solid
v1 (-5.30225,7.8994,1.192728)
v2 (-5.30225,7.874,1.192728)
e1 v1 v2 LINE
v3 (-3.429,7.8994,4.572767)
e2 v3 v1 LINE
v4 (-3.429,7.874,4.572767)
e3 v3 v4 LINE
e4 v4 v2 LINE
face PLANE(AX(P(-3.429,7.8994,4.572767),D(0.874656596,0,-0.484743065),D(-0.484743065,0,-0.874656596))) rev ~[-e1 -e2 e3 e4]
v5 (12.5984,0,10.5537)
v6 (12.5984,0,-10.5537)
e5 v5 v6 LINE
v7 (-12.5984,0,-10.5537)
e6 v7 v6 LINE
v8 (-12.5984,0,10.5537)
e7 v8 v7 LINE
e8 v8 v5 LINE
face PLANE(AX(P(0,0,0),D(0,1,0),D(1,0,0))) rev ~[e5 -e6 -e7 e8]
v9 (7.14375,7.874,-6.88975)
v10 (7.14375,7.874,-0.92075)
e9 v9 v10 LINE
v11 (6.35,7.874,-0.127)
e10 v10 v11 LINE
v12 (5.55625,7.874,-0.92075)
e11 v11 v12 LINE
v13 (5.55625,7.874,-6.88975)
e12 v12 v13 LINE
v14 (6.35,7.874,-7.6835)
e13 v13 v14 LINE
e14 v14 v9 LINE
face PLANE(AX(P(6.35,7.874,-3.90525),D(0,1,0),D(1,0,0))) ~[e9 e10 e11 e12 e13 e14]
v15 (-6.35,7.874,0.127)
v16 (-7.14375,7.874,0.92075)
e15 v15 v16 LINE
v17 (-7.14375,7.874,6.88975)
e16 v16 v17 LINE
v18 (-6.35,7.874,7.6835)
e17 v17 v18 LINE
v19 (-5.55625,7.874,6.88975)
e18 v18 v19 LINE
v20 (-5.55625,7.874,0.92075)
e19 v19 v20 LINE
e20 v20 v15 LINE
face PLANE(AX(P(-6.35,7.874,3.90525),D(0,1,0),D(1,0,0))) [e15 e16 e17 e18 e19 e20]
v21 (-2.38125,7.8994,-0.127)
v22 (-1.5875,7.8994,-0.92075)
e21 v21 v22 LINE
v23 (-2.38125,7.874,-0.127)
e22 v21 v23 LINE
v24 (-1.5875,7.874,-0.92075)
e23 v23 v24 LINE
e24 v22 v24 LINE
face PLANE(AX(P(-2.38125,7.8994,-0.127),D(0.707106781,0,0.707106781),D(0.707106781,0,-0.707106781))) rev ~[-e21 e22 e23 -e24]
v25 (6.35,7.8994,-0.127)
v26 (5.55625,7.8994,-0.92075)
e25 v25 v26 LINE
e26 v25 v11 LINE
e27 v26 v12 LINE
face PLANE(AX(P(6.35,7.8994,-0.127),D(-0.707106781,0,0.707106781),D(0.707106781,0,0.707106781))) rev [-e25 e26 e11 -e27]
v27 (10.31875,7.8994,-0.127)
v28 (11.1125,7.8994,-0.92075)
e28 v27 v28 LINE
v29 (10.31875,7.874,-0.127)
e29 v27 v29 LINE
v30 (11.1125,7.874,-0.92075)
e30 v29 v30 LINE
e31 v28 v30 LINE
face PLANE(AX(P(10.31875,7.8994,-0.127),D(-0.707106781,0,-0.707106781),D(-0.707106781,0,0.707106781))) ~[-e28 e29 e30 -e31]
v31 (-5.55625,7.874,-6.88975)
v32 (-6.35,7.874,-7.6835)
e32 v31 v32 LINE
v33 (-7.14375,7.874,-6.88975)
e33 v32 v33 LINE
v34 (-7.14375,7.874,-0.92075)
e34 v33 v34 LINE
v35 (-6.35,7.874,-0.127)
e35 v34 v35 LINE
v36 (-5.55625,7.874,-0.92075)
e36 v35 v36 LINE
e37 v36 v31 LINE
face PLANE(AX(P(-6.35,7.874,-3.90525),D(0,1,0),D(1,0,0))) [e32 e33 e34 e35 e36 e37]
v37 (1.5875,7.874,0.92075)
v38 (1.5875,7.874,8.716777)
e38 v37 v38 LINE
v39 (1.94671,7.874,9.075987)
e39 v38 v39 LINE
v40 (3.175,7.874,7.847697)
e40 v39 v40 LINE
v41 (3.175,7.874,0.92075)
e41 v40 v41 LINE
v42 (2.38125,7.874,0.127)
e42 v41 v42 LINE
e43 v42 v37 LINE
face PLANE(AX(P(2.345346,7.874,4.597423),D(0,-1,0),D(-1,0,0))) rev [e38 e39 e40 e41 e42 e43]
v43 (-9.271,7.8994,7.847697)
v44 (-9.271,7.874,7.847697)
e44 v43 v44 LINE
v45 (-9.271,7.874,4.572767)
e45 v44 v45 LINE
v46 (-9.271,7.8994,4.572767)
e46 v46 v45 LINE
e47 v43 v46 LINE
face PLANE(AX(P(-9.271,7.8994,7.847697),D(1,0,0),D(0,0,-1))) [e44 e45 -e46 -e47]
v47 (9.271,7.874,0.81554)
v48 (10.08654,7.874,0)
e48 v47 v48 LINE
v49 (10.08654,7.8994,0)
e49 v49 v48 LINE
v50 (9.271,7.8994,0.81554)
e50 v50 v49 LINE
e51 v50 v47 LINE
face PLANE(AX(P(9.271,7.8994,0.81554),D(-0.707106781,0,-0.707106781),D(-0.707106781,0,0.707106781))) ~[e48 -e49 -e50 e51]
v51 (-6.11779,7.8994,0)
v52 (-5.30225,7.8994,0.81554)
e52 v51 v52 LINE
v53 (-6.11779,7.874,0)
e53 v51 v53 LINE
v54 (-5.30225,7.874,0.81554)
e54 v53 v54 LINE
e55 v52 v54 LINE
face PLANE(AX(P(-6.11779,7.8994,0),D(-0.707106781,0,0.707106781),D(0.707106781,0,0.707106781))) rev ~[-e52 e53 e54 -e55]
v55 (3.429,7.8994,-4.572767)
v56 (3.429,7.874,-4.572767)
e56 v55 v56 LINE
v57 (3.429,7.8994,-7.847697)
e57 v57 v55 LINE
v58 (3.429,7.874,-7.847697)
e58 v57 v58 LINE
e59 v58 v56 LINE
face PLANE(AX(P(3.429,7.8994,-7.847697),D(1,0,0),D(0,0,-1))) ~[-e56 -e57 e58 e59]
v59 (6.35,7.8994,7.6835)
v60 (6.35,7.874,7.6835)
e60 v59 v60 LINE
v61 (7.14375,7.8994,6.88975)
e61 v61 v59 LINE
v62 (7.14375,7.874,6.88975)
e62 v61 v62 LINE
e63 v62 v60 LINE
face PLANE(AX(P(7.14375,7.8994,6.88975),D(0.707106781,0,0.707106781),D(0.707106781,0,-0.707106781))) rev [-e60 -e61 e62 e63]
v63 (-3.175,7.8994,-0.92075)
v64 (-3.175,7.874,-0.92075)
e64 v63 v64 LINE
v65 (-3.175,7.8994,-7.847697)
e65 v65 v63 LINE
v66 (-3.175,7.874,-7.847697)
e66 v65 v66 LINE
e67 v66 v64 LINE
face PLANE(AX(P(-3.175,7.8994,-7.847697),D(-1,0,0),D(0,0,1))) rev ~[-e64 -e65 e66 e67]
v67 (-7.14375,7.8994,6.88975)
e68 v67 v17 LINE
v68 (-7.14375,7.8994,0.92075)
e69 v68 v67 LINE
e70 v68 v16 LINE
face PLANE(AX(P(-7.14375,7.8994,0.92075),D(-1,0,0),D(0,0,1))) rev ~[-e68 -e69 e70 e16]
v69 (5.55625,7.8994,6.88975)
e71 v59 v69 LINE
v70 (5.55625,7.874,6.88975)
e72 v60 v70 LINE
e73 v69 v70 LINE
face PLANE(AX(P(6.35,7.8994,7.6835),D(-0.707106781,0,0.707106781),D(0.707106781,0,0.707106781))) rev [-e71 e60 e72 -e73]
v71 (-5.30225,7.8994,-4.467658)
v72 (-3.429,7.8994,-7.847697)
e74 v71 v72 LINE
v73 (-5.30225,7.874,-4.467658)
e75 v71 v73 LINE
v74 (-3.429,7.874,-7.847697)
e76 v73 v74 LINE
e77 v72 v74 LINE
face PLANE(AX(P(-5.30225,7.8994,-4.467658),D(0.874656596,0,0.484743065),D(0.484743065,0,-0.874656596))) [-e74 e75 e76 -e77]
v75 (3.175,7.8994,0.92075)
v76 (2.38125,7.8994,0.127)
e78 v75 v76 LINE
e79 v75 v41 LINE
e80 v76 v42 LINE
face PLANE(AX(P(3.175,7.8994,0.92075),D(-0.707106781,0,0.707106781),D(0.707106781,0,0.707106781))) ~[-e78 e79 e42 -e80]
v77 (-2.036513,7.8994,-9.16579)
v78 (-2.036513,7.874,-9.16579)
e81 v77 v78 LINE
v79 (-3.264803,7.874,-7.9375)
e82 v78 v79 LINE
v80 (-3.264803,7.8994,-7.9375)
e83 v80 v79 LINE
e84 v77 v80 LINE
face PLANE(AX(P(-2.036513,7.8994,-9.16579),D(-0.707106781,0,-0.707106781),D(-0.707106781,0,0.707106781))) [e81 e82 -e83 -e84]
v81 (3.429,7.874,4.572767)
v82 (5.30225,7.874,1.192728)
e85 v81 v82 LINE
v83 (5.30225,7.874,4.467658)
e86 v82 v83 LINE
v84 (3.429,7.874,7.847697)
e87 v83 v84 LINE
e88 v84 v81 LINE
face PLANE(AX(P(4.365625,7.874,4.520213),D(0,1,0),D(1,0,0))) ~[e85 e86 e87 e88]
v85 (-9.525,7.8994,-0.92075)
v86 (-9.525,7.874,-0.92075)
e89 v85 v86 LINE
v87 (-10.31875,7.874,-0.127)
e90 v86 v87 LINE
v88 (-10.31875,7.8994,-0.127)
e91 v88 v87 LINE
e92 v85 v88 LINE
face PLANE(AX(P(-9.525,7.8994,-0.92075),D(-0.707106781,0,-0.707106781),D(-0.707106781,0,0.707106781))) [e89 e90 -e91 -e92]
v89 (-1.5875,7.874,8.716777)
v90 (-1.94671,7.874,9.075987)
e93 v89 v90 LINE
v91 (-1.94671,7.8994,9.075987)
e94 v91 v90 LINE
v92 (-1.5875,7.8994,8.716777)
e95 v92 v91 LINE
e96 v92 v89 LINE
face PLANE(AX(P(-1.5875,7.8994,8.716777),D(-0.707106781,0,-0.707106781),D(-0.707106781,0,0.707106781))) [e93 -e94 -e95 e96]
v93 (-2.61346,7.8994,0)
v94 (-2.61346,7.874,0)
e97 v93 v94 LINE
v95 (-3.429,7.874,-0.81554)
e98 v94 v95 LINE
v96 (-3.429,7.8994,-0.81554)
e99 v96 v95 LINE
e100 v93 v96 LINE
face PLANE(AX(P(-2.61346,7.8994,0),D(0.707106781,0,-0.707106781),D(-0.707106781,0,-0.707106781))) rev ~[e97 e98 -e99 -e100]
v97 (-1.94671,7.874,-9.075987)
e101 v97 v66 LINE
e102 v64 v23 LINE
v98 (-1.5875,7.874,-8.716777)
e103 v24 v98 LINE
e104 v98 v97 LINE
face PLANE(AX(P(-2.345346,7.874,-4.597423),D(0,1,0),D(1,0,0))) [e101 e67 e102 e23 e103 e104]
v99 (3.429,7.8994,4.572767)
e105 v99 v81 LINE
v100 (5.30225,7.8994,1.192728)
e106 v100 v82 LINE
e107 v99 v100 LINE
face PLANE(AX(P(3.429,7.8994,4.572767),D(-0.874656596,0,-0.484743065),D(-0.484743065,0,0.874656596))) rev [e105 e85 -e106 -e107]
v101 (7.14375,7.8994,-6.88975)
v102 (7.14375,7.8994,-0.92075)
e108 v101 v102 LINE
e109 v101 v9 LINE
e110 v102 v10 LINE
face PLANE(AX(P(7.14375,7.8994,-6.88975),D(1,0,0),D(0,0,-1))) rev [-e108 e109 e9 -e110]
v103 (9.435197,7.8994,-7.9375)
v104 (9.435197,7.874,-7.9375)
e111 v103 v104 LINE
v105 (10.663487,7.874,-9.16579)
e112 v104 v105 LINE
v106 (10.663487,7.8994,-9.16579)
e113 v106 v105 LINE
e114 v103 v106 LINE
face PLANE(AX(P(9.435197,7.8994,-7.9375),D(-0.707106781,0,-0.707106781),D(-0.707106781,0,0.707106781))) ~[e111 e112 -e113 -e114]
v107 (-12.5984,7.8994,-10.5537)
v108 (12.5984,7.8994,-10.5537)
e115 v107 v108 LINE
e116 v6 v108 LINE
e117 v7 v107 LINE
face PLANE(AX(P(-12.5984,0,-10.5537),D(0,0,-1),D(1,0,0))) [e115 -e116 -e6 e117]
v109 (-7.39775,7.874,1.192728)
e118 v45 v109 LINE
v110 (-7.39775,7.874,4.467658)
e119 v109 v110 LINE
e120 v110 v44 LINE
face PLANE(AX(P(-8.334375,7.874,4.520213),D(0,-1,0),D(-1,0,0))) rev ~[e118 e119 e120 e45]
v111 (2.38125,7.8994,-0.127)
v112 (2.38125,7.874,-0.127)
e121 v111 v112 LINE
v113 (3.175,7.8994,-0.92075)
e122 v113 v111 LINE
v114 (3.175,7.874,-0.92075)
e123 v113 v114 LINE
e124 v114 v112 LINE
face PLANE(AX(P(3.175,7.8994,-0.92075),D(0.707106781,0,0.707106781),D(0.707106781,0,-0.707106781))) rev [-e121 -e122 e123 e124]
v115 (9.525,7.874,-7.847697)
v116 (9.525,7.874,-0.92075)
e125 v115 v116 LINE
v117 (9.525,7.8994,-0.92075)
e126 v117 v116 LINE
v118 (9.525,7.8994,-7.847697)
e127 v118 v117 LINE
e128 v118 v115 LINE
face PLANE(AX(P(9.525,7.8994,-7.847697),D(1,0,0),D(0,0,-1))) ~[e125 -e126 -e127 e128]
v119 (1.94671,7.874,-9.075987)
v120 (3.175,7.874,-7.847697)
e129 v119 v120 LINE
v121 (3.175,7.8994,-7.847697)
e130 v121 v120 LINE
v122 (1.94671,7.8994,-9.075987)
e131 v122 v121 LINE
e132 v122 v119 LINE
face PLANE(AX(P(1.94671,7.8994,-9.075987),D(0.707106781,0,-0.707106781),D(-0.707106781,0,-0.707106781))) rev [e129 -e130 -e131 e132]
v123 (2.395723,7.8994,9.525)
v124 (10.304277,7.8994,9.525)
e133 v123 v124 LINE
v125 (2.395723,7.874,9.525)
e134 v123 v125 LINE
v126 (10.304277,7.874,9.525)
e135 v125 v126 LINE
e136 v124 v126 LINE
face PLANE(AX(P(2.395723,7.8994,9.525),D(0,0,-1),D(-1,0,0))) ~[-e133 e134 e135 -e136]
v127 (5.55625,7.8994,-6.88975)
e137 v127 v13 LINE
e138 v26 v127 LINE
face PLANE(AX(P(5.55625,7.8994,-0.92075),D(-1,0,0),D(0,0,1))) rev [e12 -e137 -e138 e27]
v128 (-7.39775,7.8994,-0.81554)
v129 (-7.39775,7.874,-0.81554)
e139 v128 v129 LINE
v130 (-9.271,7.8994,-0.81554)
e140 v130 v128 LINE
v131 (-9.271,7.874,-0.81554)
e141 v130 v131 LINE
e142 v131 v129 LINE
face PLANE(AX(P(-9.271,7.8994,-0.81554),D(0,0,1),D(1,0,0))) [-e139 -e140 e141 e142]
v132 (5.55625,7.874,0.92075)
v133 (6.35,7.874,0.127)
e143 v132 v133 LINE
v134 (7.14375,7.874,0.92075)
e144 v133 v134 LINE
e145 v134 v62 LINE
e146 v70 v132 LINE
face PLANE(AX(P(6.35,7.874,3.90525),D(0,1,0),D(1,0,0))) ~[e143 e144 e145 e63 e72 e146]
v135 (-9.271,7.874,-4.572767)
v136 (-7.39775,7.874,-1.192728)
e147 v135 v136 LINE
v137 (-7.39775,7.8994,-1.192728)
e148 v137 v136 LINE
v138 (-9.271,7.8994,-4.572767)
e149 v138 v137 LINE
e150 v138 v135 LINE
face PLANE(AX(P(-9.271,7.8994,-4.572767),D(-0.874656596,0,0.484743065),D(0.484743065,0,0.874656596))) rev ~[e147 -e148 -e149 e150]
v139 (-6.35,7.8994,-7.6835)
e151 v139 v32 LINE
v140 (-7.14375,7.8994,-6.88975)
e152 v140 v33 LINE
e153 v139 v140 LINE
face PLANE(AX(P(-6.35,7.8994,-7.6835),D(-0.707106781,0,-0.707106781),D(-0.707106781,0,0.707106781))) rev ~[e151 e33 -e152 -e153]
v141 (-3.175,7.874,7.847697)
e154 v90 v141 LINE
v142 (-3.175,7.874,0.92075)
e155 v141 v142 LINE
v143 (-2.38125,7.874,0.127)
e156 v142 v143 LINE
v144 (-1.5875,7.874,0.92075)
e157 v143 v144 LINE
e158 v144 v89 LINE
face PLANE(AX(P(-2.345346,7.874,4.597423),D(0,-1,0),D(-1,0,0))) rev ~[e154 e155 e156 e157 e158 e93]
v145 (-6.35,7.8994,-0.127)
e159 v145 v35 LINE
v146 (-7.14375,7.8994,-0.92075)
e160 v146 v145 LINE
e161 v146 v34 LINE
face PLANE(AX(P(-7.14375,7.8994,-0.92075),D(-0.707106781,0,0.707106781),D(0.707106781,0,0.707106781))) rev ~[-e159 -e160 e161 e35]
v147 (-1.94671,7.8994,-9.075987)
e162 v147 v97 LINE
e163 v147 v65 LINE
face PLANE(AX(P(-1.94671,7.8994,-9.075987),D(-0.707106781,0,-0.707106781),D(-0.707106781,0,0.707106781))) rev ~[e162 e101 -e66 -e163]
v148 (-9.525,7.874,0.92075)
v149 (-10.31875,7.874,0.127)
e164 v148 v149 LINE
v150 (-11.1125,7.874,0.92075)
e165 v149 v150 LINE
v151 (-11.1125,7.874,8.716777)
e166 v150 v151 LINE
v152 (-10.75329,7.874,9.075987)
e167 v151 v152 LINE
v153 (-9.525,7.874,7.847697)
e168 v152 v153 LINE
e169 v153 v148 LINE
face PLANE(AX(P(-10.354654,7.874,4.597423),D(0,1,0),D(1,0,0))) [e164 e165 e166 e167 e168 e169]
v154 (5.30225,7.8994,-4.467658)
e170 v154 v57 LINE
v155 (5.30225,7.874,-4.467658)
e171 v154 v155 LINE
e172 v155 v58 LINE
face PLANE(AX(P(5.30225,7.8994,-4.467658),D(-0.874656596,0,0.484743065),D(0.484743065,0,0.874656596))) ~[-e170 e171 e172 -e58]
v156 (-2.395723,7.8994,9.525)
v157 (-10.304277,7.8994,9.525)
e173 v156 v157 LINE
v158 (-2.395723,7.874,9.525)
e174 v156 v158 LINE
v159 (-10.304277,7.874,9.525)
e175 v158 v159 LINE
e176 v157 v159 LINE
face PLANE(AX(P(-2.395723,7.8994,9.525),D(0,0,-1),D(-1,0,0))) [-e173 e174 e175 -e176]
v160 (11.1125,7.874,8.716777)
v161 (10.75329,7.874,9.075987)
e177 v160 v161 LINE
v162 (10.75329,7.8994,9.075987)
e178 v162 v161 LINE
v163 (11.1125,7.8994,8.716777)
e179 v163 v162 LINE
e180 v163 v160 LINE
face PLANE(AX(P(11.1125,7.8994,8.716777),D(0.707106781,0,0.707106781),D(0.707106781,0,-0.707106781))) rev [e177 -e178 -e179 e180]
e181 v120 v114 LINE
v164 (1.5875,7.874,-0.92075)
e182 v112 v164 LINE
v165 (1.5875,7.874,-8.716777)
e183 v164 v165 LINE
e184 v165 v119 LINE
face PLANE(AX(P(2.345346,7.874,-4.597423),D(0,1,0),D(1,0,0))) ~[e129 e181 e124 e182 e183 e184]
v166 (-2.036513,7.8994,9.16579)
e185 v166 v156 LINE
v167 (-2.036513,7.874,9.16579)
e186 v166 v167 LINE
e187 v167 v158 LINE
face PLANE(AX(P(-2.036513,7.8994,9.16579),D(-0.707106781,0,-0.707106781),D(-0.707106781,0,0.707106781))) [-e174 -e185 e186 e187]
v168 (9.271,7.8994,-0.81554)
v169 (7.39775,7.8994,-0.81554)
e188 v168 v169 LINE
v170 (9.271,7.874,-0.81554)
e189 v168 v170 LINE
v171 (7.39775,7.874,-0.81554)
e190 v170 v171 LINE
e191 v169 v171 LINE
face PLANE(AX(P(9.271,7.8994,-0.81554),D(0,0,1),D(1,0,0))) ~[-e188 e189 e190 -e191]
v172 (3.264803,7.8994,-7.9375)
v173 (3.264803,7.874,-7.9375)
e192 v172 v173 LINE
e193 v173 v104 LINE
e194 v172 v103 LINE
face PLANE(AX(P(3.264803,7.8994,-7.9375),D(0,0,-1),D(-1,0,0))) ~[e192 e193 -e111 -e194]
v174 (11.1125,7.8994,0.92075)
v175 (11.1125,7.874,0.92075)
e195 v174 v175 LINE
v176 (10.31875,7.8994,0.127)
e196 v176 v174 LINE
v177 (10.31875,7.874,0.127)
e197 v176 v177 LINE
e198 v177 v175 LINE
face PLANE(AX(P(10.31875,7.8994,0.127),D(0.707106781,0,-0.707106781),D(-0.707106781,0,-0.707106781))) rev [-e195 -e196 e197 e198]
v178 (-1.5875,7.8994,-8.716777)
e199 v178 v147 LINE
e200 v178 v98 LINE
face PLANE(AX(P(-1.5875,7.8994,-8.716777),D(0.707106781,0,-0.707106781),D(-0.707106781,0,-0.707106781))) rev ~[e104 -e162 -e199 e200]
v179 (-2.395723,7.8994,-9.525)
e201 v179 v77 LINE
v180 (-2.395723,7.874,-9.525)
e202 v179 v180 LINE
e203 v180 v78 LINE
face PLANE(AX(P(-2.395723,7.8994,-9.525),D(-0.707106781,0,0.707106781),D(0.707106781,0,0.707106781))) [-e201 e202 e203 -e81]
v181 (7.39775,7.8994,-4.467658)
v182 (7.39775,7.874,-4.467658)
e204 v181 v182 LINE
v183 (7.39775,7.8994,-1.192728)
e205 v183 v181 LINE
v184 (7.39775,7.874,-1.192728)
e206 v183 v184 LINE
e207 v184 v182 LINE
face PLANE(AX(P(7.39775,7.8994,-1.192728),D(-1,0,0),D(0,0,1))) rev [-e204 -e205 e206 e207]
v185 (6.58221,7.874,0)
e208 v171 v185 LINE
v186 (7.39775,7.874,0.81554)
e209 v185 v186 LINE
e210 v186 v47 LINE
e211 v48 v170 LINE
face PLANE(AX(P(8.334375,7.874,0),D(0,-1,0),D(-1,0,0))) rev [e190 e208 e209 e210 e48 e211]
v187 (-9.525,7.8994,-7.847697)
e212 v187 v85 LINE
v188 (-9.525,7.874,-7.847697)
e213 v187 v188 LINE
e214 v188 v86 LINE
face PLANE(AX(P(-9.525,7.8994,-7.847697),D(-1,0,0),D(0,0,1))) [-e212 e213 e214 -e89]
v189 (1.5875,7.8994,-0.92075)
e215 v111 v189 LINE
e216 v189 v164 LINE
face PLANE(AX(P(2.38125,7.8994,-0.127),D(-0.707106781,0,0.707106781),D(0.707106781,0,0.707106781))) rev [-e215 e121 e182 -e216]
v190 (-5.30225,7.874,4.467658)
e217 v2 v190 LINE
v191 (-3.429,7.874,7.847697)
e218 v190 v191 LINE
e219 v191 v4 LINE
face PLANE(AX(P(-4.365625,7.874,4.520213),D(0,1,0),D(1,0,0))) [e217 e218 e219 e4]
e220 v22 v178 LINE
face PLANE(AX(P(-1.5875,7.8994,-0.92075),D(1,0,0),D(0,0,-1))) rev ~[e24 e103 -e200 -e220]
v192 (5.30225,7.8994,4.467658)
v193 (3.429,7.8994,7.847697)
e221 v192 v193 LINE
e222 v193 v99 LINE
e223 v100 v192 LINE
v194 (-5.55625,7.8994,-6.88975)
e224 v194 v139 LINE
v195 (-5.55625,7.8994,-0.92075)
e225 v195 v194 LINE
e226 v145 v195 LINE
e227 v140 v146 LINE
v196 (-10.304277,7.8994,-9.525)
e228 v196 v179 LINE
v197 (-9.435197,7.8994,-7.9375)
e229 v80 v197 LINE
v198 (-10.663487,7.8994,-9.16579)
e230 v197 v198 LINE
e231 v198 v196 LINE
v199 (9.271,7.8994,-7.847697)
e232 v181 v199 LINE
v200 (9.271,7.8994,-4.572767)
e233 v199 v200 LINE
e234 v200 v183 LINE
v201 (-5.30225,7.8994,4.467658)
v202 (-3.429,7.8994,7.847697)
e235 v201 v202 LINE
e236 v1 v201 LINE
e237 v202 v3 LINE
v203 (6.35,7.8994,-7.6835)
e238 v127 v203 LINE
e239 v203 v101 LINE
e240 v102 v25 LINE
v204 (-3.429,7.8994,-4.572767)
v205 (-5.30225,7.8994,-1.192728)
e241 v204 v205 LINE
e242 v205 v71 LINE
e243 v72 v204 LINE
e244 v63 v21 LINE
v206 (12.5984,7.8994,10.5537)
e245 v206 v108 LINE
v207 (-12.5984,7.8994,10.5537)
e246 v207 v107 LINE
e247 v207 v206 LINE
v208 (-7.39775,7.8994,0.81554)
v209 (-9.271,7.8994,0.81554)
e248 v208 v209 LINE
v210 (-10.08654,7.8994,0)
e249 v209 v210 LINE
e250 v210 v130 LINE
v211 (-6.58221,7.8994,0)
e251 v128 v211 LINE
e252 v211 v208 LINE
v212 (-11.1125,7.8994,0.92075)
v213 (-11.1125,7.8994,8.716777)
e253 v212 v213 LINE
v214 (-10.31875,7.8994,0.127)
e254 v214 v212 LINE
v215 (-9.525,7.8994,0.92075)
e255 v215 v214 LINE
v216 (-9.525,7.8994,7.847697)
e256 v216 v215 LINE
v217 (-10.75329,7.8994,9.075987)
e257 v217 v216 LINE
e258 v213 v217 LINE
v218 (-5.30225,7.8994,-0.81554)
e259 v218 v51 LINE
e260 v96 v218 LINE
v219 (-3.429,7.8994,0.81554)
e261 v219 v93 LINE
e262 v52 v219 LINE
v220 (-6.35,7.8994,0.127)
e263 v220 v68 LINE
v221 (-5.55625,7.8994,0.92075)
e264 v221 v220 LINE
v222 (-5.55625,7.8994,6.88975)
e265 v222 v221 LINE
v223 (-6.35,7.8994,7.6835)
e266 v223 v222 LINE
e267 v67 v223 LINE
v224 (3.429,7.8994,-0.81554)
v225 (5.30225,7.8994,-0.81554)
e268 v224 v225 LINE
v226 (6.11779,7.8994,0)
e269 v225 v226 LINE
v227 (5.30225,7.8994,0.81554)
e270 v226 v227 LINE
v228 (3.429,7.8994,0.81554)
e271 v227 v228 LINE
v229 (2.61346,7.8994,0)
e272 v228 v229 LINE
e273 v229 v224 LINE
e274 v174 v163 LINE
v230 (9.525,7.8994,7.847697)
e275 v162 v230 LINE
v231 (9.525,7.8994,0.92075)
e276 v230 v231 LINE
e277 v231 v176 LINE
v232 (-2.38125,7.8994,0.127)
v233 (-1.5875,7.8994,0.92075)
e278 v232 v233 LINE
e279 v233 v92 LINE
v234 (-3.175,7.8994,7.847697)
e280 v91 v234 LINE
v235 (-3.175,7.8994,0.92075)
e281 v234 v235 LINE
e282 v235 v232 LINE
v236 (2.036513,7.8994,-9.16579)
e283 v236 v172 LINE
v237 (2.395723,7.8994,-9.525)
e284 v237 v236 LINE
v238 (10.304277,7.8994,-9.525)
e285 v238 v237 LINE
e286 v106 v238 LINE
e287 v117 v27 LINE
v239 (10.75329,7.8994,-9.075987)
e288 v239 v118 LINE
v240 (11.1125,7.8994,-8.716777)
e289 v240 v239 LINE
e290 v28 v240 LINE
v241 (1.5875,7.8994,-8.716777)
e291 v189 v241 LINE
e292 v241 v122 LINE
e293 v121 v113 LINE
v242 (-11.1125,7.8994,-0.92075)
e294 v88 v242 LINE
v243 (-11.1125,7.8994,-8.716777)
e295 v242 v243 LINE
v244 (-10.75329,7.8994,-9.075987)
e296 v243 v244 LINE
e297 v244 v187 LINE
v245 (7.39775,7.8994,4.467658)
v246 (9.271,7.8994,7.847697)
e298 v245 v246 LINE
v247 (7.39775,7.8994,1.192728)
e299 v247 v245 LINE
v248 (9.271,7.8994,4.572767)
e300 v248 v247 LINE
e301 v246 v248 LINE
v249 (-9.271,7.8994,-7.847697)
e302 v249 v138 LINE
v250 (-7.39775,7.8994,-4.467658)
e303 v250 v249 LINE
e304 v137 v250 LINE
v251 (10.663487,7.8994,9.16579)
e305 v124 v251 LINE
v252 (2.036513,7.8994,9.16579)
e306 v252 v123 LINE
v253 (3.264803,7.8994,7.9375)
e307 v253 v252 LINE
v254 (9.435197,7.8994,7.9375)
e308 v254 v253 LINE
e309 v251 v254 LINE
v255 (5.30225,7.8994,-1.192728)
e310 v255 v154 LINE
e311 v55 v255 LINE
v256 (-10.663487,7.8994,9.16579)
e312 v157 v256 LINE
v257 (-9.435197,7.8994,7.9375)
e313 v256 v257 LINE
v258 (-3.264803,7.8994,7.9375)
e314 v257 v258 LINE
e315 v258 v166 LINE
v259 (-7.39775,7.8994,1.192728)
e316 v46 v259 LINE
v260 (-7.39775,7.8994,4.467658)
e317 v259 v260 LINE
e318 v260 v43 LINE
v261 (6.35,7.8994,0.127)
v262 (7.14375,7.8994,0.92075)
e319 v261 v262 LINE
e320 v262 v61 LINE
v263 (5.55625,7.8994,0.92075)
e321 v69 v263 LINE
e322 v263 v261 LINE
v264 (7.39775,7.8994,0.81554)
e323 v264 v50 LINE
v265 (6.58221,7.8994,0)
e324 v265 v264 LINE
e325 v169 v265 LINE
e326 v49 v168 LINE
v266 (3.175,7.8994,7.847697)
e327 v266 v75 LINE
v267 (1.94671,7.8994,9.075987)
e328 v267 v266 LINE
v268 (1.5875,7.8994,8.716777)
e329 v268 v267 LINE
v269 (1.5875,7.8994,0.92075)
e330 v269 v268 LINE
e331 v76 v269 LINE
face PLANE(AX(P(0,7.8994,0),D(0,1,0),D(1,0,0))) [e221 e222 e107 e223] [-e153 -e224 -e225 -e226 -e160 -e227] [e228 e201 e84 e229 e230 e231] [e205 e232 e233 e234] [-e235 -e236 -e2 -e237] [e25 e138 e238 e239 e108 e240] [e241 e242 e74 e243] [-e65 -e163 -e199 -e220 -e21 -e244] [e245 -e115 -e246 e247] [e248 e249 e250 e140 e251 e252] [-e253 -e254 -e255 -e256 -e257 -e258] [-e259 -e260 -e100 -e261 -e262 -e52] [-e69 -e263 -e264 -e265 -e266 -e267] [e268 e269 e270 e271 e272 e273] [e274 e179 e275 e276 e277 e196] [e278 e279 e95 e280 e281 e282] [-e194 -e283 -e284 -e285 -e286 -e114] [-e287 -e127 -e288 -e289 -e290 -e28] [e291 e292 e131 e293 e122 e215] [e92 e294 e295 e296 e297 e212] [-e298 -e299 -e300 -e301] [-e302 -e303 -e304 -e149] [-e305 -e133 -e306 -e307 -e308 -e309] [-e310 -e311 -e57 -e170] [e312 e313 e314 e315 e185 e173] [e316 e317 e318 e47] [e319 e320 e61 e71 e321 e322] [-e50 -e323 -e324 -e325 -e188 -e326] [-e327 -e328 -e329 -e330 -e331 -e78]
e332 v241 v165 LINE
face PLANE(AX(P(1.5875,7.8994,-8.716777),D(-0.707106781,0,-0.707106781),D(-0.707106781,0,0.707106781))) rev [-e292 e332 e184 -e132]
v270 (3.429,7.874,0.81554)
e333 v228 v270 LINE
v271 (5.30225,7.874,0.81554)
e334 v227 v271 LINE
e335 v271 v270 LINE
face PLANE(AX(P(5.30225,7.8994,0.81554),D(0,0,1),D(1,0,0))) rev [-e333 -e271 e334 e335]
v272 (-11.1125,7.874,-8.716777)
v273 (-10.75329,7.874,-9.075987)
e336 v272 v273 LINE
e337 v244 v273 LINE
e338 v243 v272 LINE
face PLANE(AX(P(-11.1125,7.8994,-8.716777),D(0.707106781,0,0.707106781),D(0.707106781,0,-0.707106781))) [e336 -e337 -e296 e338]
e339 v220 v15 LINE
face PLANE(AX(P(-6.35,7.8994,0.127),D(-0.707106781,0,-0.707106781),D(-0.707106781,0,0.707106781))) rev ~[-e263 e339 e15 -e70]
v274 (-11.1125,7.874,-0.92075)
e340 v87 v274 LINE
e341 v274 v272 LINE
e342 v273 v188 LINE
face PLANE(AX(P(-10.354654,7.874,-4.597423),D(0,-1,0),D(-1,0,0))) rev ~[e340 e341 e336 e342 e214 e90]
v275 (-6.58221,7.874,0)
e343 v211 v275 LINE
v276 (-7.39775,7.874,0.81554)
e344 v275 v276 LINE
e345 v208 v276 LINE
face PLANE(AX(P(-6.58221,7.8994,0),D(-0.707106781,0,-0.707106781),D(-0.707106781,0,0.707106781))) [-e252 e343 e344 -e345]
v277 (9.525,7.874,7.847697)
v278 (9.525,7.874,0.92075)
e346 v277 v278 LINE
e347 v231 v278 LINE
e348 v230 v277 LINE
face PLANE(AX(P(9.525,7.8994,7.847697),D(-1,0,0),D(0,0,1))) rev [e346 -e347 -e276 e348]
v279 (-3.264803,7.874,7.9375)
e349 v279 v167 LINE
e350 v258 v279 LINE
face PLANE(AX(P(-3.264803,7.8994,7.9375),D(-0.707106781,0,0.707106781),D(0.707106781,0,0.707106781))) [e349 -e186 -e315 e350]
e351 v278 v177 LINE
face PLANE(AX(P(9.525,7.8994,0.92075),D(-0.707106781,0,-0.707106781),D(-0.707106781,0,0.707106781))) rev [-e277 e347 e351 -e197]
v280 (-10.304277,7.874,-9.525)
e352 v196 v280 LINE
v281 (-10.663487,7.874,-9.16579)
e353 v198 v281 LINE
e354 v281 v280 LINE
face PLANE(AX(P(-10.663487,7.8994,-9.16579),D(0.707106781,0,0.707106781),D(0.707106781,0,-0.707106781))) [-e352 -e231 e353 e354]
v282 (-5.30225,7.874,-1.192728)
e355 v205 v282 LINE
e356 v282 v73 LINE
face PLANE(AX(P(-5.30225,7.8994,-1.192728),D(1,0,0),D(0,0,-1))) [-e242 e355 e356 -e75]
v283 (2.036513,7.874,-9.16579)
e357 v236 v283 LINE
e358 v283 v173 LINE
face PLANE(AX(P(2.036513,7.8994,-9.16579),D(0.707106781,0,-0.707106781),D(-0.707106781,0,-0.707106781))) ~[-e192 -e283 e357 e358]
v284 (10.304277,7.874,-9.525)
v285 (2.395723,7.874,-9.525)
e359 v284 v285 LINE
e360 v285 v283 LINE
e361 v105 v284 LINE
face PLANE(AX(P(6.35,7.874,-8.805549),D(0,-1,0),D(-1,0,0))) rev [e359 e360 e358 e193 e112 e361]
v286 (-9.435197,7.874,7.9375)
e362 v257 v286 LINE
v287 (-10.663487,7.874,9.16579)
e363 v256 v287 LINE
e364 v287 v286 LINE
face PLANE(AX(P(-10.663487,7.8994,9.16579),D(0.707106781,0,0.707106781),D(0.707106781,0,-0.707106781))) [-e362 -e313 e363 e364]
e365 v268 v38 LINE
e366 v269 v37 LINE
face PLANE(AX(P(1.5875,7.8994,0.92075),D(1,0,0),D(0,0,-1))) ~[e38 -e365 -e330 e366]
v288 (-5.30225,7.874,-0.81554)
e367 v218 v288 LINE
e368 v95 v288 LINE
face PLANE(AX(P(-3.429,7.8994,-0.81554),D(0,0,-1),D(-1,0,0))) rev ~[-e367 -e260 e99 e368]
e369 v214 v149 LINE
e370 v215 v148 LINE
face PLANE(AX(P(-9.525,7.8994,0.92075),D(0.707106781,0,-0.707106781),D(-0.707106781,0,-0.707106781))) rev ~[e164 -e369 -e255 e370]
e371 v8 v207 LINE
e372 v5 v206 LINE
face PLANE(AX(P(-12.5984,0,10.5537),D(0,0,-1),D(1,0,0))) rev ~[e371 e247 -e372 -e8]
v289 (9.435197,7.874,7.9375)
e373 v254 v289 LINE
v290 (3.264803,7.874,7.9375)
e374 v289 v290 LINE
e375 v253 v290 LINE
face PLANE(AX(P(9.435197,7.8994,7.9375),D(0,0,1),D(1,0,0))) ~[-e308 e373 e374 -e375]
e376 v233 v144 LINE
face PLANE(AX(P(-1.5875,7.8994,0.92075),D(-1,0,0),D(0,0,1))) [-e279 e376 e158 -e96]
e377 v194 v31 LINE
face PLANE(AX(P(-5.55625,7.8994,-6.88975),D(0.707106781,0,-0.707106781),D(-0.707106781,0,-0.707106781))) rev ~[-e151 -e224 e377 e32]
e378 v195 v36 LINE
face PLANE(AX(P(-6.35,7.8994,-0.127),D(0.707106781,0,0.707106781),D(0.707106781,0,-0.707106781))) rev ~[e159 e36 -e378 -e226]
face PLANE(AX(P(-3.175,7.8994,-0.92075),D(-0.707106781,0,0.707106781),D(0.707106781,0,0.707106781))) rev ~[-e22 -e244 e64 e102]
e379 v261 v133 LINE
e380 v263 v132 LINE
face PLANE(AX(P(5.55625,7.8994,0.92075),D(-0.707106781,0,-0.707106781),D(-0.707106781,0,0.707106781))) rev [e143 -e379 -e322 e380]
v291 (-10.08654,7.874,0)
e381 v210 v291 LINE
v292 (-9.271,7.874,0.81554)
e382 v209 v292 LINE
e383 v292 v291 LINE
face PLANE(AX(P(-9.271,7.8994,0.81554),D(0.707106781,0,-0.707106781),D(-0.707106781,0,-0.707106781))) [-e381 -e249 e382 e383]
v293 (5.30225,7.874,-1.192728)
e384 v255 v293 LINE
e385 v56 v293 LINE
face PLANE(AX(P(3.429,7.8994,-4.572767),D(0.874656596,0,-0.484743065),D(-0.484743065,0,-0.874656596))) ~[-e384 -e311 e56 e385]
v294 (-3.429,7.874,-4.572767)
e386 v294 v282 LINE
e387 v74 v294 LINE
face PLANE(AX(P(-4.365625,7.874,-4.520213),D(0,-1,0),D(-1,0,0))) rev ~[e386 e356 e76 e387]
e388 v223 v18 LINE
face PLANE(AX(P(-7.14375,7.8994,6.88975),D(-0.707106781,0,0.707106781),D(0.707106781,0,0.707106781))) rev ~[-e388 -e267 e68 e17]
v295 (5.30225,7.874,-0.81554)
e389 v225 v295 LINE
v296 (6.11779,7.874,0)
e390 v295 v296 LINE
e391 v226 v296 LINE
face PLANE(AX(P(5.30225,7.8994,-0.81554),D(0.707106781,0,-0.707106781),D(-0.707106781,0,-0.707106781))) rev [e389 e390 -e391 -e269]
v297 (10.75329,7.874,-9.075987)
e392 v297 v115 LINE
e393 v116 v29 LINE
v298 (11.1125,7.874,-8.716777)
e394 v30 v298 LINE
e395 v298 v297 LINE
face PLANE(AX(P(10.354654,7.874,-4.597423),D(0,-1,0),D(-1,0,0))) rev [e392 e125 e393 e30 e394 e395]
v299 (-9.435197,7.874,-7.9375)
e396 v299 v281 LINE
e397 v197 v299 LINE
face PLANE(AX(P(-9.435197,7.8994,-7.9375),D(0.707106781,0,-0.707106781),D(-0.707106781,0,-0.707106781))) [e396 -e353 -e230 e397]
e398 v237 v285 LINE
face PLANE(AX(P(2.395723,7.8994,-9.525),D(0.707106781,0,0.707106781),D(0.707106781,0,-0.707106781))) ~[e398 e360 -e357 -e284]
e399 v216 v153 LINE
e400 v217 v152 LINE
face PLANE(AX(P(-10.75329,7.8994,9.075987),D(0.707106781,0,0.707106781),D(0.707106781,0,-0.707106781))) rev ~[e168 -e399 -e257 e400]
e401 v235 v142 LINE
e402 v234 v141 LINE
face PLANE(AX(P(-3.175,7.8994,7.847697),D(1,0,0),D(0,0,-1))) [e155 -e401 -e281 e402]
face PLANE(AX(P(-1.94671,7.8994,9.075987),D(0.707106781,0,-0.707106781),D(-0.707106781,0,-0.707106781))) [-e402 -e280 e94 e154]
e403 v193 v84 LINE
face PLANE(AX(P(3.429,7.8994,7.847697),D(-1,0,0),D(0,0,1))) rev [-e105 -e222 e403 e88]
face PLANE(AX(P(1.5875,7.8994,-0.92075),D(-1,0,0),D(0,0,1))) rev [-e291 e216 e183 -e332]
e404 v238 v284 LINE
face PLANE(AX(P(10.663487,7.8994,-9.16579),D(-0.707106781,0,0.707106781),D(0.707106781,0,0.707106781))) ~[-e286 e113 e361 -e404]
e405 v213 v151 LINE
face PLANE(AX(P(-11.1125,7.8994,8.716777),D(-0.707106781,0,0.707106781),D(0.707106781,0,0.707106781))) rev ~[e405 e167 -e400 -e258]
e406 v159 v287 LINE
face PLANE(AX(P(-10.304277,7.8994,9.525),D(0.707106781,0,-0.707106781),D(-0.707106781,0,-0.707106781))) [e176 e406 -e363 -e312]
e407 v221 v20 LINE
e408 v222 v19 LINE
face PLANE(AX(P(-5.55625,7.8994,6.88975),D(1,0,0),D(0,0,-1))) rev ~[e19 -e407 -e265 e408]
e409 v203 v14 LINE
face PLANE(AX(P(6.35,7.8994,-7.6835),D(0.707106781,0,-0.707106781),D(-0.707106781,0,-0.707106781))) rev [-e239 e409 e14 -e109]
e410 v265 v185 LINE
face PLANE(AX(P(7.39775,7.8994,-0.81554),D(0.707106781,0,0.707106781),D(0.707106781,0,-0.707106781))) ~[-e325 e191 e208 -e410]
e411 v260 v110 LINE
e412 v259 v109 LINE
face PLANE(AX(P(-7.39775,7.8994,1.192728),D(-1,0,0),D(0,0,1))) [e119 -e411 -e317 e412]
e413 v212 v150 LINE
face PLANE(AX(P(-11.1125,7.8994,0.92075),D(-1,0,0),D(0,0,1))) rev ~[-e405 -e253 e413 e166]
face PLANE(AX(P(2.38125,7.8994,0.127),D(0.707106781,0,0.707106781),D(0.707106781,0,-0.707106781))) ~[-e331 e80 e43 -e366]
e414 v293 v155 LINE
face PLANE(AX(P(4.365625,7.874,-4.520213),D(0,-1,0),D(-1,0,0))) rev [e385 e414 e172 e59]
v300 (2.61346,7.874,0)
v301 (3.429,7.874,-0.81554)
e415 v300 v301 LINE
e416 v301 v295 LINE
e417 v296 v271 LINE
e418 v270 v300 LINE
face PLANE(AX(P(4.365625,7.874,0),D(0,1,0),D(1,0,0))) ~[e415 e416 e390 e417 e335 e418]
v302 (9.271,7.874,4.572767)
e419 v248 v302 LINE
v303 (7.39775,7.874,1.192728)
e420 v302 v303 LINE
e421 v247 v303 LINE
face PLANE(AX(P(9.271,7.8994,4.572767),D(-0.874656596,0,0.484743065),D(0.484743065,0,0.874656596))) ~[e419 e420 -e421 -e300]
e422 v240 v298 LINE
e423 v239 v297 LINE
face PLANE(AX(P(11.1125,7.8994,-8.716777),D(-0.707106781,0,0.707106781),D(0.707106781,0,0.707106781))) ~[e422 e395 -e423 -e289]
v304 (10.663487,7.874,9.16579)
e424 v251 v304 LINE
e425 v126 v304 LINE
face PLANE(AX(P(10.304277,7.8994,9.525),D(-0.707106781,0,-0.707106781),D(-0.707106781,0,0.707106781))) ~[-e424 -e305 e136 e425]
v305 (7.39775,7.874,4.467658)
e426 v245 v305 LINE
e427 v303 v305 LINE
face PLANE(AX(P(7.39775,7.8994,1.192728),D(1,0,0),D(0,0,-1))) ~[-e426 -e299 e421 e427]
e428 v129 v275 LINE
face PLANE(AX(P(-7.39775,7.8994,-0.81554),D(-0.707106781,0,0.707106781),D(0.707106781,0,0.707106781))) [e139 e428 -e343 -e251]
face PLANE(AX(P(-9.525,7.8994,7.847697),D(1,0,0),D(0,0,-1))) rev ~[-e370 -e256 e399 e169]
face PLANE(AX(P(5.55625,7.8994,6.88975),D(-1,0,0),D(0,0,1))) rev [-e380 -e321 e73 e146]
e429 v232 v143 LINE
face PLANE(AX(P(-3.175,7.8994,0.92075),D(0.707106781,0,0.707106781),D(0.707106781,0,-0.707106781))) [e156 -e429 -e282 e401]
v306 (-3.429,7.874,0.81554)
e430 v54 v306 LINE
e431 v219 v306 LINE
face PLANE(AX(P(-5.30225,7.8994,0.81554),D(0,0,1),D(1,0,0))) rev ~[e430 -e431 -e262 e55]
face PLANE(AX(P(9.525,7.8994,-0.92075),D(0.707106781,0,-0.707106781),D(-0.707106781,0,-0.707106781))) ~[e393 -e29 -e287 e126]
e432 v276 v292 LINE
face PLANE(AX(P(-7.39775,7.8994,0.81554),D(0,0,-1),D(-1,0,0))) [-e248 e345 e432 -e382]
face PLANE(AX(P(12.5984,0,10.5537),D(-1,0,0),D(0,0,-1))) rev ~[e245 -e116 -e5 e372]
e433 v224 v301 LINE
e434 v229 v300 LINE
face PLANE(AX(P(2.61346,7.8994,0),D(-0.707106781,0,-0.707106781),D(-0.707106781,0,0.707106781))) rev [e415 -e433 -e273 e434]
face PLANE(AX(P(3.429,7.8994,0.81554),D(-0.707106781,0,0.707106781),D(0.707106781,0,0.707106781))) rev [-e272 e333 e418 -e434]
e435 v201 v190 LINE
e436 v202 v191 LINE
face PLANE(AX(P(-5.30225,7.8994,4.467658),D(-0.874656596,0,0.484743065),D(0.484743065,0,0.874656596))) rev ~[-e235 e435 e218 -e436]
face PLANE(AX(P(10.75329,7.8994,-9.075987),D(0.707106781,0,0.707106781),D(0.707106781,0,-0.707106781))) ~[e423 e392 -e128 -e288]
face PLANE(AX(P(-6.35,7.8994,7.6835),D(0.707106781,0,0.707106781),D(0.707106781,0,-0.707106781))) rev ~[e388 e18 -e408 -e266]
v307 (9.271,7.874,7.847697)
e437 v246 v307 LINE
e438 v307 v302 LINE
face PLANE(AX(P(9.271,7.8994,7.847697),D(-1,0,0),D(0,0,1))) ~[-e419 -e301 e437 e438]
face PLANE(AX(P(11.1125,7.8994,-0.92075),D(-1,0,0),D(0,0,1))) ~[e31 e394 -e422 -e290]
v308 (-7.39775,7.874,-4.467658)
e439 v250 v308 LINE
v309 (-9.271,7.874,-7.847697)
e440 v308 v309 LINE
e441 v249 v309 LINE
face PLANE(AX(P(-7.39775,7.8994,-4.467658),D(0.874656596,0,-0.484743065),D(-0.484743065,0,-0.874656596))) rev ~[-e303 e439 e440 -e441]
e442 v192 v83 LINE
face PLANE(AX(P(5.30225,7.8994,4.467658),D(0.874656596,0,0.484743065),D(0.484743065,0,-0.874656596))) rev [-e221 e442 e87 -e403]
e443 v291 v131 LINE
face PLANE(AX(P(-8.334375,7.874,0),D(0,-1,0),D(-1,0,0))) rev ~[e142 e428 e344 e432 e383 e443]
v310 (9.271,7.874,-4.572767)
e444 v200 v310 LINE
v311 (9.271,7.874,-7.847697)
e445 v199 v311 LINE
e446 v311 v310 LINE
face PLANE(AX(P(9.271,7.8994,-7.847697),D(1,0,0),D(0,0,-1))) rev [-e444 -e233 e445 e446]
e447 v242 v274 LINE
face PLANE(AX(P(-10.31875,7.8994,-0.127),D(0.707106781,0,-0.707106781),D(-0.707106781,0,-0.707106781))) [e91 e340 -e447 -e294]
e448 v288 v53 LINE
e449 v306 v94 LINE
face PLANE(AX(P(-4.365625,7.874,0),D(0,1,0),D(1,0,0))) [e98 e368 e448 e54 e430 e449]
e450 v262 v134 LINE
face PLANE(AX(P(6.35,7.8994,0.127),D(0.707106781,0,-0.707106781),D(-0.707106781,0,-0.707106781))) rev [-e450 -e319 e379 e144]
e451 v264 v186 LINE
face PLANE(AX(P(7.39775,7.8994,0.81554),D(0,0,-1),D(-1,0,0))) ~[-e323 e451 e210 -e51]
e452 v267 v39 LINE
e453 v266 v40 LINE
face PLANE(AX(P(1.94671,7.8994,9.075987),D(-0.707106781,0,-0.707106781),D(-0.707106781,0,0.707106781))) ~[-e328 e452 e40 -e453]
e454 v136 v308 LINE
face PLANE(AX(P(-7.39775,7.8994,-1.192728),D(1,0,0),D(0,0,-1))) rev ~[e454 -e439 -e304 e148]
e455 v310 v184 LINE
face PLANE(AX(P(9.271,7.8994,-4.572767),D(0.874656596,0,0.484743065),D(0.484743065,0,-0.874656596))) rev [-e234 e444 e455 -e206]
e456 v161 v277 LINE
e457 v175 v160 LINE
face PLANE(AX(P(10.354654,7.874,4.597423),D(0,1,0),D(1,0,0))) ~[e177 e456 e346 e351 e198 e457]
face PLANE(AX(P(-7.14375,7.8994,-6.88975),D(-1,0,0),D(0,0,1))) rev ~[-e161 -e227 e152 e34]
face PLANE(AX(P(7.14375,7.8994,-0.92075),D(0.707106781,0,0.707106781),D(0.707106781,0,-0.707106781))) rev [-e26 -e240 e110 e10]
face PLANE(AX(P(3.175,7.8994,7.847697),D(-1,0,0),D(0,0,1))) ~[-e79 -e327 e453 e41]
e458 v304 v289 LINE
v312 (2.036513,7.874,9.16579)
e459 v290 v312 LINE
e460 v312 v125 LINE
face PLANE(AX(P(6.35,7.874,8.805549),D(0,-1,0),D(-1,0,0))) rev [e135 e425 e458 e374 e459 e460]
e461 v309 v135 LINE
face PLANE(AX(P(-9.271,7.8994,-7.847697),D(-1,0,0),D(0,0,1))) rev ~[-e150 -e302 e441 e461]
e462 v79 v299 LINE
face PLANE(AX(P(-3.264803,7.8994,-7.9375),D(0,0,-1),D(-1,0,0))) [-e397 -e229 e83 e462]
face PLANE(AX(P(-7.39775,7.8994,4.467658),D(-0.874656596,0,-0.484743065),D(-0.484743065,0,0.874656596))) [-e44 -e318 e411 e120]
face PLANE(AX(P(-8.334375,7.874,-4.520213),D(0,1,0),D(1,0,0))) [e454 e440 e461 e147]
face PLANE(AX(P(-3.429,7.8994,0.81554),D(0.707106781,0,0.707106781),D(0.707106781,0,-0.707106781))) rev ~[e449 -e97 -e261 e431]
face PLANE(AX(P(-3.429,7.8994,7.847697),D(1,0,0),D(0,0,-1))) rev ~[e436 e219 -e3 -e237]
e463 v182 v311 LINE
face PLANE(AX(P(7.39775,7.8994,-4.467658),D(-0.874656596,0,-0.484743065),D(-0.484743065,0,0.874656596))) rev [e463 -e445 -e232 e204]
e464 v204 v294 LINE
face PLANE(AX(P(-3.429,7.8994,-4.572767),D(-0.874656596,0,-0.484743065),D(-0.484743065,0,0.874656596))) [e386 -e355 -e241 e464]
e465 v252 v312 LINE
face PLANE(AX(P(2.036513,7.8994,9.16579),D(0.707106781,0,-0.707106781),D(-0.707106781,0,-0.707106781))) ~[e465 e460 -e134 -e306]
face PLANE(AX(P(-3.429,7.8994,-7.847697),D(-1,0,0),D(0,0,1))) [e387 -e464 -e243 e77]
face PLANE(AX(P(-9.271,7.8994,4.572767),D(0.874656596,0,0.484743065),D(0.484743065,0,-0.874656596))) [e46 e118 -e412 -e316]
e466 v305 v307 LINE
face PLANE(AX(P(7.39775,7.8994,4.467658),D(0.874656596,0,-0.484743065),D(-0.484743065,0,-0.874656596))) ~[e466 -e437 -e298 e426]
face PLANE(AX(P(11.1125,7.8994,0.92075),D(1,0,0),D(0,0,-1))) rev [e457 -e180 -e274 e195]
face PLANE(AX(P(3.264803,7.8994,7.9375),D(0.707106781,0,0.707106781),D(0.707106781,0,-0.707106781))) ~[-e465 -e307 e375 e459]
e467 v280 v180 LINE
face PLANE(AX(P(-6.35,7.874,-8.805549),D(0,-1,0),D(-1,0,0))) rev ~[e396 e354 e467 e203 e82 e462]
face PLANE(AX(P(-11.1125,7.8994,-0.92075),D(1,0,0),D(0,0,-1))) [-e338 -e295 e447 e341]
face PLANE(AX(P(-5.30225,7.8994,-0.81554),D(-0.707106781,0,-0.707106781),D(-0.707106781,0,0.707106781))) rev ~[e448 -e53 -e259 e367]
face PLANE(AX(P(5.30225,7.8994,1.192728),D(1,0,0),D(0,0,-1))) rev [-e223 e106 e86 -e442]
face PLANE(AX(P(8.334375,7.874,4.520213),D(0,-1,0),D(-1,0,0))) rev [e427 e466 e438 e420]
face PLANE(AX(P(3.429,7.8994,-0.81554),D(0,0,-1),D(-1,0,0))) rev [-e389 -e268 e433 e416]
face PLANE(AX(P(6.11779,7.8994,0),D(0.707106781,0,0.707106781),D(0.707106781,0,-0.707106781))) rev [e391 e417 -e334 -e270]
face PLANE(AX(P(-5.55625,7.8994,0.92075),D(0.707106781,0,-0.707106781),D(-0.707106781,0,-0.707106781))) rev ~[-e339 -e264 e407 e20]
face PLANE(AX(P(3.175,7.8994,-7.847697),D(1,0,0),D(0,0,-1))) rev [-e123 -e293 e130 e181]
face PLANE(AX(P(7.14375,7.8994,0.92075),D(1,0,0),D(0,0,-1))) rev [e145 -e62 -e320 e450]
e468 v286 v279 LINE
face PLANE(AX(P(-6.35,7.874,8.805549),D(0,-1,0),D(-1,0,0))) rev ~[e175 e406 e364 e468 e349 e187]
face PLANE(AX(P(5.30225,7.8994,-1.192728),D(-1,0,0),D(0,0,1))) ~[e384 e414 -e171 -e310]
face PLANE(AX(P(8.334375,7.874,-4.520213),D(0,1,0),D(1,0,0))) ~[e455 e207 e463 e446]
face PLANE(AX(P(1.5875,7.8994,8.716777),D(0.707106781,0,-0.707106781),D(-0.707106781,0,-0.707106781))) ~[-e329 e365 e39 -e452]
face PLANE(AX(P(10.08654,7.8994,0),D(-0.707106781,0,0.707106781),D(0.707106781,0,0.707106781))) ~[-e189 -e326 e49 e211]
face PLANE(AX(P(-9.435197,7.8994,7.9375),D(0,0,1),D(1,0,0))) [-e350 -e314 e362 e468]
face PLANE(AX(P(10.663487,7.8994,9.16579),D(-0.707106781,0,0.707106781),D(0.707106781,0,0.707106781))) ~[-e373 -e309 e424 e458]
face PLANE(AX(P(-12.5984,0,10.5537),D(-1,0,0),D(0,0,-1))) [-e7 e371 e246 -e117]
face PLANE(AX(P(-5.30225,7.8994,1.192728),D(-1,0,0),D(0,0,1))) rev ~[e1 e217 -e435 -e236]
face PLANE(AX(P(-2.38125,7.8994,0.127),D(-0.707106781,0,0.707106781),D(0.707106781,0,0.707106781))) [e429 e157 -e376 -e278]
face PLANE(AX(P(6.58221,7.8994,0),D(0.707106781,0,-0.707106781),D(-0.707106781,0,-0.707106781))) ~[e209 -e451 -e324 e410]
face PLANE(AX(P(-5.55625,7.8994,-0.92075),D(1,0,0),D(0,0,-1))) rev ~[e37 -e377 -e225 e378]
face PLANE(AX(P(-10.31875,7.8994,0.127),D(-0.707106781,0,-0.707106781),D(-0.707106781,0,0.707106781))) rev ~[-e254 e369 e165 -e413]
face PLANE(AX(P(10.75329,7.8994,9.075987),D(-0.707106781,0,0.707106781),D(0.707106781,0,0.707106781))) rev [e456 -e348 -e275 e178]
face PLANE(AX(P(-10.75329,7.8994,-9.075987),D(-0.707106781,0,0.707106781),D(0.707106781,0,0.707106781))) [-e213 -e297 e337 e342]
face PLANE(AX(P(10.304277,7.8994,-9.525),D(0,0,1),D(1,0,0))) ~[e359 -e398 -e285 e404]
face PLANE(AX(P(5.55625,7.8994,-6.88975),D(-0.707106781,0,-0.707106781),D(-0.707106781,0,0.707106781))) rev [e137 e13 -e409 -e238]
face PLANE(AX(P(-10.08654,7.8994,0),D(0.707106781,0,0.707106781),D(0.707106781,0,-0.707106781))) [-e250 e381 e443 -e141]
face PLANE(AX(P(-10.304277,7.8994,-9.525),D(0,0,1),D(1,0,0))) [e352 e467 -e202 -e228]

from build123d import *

# Parameters (mm, degrees)
SKETCH1_W           = 25.1968
SKETCH1_H           = 21.1074
BOSS_EXTRUDE1_DEPTH = 7.8994
CUT_EXTRUDE1_DEPTH  = 0.0254


with BuildPart() as part:
    # Sketch1 → Boss-Extrude1 (new body)
    with BuildSketch(Plane(origin=(0, 0, 0), x_dir=(1, 0, 0), z_dir=(0, 1, 0))):
        Rectangle(SKETCH1_W, SKETCH1_H)
    extrude(amount=BOSS_EXTRUDE1_DEPTH)

    # Sketch2 → Cut-Extrude1 (cut)
    with BuildSketch(Plane(origin=(0, 7.8994, 0), x_dir=(1, 0, 0), z_dir=(0, 1, 0))):
        Polygon((-11.1125, 0.92075), (-11.1125, 8.716776949), (-10.753289755, 9.075987194), (-9.525, 7.847697439), (-9.525, 0.92075), (-10.31875, 0.127), align=None)
        Polygon((-9.435197439, 7.9375), (-10.663487194, 9.165789755), (-10.304276949, 9.525), (-2.395723051, 9.525), (-2.036512806, 9.165789755), (-3.264802561, 7.9375), align=None)
        Polygon((-6.35, 7.6835), (-7.14375, 6.88975), (-7.14375, 0.92075), (-6.35, 0.127), (-5.55625, 0.92075), (-5.55625, 6.88975), align=None)
        Polygon((-10.086539755, 0), (-9.271, 0.815539755), (-7.39775, 0.815539755), (-6.582210245, 0), (-7.39775, -0.815539755), (-9.271, -0.815539755), align=None)
        Polygon((-9.271, 7.847697439), (-9.271, 4.572766625), (-7.39775, 1.192727616), (-7.39775, 4.46765843), align=None)
        Polygon((-5.30225, 4.46765843), (-3.429, 7.847697439), (-3.429, 4.572766625), (-5.30225, 1.192727616), align=None)
        Polygon((-5.30225, 0.815539755), (-6.117789755, 0), (-5.30225, -0.815539755), (-3.429, -0.815539755), (-2.613460245, 0), (-3.429, 0.815539755), align=None)
        Polygon((-2.38125, 0.127), (-1.5875, 0.92075), (-1.5875, 8.716776949), (-1.946710245, 9.075987194), (-3.175, 7.847697439), (-3.175, 0.92075), align=None)
        Polygon((-1.5875, -0.92075), (-1.5875, -8.716776949), (-1.946710245, -9.075987194), (-3.175, -7.847697439), (-3.175, -0.92075), (-2.38125, -0.127), align=None)
        Polygon((-3.264802561, -7.9375), (-2.036512806, -9.165789755), (-2.395723051, -9.525), (-10.304276949, -9.525), (-10.663487194, -9.165789755), (-9.435197439, -7.9375), align=None)
        Polygon((-6.35, -7.6835), (-5.55625, -6.88975), (-5.55625, -0.92075), (-6.35, -0.127), (-7.14375, -0.92075), (-7.14375, -6.88975), align=None)
        Polygon((-3.429, -7.847697439), (-3.429, -4.572766625), (-5.30225, -1.192727616), (-5.30225, -4.46765843), align=None)
        Polygon((-7.39775, -4.46765843), (-9.271, -7.847697439), (-9.271, -4.572766625), (-7.39775, -1.192727616), align=None)
        Polygon((-10.31875, -0.127), (-11.1125, -0.92075), (-11.1125, -8.716776949), (-10.753289755, -9.075987194), (-9.525, -7.847697439), (-9.525, -0.92075), align=None)
    cut_extrude1 = extrude(amount=-CUT_EXTRUDE1_DEPTH, mode=Mode.SUBTRACT)

    # Mirror1: Cut-Extrude1 across plane
    add(cut_extrude1.mirror(Plane(origin=(0, 0, 0), x_dir=(0, 0, 1), z_dir=(1, 0, 0))), mode=Mode.SUBTRACT)


solid = part.part
